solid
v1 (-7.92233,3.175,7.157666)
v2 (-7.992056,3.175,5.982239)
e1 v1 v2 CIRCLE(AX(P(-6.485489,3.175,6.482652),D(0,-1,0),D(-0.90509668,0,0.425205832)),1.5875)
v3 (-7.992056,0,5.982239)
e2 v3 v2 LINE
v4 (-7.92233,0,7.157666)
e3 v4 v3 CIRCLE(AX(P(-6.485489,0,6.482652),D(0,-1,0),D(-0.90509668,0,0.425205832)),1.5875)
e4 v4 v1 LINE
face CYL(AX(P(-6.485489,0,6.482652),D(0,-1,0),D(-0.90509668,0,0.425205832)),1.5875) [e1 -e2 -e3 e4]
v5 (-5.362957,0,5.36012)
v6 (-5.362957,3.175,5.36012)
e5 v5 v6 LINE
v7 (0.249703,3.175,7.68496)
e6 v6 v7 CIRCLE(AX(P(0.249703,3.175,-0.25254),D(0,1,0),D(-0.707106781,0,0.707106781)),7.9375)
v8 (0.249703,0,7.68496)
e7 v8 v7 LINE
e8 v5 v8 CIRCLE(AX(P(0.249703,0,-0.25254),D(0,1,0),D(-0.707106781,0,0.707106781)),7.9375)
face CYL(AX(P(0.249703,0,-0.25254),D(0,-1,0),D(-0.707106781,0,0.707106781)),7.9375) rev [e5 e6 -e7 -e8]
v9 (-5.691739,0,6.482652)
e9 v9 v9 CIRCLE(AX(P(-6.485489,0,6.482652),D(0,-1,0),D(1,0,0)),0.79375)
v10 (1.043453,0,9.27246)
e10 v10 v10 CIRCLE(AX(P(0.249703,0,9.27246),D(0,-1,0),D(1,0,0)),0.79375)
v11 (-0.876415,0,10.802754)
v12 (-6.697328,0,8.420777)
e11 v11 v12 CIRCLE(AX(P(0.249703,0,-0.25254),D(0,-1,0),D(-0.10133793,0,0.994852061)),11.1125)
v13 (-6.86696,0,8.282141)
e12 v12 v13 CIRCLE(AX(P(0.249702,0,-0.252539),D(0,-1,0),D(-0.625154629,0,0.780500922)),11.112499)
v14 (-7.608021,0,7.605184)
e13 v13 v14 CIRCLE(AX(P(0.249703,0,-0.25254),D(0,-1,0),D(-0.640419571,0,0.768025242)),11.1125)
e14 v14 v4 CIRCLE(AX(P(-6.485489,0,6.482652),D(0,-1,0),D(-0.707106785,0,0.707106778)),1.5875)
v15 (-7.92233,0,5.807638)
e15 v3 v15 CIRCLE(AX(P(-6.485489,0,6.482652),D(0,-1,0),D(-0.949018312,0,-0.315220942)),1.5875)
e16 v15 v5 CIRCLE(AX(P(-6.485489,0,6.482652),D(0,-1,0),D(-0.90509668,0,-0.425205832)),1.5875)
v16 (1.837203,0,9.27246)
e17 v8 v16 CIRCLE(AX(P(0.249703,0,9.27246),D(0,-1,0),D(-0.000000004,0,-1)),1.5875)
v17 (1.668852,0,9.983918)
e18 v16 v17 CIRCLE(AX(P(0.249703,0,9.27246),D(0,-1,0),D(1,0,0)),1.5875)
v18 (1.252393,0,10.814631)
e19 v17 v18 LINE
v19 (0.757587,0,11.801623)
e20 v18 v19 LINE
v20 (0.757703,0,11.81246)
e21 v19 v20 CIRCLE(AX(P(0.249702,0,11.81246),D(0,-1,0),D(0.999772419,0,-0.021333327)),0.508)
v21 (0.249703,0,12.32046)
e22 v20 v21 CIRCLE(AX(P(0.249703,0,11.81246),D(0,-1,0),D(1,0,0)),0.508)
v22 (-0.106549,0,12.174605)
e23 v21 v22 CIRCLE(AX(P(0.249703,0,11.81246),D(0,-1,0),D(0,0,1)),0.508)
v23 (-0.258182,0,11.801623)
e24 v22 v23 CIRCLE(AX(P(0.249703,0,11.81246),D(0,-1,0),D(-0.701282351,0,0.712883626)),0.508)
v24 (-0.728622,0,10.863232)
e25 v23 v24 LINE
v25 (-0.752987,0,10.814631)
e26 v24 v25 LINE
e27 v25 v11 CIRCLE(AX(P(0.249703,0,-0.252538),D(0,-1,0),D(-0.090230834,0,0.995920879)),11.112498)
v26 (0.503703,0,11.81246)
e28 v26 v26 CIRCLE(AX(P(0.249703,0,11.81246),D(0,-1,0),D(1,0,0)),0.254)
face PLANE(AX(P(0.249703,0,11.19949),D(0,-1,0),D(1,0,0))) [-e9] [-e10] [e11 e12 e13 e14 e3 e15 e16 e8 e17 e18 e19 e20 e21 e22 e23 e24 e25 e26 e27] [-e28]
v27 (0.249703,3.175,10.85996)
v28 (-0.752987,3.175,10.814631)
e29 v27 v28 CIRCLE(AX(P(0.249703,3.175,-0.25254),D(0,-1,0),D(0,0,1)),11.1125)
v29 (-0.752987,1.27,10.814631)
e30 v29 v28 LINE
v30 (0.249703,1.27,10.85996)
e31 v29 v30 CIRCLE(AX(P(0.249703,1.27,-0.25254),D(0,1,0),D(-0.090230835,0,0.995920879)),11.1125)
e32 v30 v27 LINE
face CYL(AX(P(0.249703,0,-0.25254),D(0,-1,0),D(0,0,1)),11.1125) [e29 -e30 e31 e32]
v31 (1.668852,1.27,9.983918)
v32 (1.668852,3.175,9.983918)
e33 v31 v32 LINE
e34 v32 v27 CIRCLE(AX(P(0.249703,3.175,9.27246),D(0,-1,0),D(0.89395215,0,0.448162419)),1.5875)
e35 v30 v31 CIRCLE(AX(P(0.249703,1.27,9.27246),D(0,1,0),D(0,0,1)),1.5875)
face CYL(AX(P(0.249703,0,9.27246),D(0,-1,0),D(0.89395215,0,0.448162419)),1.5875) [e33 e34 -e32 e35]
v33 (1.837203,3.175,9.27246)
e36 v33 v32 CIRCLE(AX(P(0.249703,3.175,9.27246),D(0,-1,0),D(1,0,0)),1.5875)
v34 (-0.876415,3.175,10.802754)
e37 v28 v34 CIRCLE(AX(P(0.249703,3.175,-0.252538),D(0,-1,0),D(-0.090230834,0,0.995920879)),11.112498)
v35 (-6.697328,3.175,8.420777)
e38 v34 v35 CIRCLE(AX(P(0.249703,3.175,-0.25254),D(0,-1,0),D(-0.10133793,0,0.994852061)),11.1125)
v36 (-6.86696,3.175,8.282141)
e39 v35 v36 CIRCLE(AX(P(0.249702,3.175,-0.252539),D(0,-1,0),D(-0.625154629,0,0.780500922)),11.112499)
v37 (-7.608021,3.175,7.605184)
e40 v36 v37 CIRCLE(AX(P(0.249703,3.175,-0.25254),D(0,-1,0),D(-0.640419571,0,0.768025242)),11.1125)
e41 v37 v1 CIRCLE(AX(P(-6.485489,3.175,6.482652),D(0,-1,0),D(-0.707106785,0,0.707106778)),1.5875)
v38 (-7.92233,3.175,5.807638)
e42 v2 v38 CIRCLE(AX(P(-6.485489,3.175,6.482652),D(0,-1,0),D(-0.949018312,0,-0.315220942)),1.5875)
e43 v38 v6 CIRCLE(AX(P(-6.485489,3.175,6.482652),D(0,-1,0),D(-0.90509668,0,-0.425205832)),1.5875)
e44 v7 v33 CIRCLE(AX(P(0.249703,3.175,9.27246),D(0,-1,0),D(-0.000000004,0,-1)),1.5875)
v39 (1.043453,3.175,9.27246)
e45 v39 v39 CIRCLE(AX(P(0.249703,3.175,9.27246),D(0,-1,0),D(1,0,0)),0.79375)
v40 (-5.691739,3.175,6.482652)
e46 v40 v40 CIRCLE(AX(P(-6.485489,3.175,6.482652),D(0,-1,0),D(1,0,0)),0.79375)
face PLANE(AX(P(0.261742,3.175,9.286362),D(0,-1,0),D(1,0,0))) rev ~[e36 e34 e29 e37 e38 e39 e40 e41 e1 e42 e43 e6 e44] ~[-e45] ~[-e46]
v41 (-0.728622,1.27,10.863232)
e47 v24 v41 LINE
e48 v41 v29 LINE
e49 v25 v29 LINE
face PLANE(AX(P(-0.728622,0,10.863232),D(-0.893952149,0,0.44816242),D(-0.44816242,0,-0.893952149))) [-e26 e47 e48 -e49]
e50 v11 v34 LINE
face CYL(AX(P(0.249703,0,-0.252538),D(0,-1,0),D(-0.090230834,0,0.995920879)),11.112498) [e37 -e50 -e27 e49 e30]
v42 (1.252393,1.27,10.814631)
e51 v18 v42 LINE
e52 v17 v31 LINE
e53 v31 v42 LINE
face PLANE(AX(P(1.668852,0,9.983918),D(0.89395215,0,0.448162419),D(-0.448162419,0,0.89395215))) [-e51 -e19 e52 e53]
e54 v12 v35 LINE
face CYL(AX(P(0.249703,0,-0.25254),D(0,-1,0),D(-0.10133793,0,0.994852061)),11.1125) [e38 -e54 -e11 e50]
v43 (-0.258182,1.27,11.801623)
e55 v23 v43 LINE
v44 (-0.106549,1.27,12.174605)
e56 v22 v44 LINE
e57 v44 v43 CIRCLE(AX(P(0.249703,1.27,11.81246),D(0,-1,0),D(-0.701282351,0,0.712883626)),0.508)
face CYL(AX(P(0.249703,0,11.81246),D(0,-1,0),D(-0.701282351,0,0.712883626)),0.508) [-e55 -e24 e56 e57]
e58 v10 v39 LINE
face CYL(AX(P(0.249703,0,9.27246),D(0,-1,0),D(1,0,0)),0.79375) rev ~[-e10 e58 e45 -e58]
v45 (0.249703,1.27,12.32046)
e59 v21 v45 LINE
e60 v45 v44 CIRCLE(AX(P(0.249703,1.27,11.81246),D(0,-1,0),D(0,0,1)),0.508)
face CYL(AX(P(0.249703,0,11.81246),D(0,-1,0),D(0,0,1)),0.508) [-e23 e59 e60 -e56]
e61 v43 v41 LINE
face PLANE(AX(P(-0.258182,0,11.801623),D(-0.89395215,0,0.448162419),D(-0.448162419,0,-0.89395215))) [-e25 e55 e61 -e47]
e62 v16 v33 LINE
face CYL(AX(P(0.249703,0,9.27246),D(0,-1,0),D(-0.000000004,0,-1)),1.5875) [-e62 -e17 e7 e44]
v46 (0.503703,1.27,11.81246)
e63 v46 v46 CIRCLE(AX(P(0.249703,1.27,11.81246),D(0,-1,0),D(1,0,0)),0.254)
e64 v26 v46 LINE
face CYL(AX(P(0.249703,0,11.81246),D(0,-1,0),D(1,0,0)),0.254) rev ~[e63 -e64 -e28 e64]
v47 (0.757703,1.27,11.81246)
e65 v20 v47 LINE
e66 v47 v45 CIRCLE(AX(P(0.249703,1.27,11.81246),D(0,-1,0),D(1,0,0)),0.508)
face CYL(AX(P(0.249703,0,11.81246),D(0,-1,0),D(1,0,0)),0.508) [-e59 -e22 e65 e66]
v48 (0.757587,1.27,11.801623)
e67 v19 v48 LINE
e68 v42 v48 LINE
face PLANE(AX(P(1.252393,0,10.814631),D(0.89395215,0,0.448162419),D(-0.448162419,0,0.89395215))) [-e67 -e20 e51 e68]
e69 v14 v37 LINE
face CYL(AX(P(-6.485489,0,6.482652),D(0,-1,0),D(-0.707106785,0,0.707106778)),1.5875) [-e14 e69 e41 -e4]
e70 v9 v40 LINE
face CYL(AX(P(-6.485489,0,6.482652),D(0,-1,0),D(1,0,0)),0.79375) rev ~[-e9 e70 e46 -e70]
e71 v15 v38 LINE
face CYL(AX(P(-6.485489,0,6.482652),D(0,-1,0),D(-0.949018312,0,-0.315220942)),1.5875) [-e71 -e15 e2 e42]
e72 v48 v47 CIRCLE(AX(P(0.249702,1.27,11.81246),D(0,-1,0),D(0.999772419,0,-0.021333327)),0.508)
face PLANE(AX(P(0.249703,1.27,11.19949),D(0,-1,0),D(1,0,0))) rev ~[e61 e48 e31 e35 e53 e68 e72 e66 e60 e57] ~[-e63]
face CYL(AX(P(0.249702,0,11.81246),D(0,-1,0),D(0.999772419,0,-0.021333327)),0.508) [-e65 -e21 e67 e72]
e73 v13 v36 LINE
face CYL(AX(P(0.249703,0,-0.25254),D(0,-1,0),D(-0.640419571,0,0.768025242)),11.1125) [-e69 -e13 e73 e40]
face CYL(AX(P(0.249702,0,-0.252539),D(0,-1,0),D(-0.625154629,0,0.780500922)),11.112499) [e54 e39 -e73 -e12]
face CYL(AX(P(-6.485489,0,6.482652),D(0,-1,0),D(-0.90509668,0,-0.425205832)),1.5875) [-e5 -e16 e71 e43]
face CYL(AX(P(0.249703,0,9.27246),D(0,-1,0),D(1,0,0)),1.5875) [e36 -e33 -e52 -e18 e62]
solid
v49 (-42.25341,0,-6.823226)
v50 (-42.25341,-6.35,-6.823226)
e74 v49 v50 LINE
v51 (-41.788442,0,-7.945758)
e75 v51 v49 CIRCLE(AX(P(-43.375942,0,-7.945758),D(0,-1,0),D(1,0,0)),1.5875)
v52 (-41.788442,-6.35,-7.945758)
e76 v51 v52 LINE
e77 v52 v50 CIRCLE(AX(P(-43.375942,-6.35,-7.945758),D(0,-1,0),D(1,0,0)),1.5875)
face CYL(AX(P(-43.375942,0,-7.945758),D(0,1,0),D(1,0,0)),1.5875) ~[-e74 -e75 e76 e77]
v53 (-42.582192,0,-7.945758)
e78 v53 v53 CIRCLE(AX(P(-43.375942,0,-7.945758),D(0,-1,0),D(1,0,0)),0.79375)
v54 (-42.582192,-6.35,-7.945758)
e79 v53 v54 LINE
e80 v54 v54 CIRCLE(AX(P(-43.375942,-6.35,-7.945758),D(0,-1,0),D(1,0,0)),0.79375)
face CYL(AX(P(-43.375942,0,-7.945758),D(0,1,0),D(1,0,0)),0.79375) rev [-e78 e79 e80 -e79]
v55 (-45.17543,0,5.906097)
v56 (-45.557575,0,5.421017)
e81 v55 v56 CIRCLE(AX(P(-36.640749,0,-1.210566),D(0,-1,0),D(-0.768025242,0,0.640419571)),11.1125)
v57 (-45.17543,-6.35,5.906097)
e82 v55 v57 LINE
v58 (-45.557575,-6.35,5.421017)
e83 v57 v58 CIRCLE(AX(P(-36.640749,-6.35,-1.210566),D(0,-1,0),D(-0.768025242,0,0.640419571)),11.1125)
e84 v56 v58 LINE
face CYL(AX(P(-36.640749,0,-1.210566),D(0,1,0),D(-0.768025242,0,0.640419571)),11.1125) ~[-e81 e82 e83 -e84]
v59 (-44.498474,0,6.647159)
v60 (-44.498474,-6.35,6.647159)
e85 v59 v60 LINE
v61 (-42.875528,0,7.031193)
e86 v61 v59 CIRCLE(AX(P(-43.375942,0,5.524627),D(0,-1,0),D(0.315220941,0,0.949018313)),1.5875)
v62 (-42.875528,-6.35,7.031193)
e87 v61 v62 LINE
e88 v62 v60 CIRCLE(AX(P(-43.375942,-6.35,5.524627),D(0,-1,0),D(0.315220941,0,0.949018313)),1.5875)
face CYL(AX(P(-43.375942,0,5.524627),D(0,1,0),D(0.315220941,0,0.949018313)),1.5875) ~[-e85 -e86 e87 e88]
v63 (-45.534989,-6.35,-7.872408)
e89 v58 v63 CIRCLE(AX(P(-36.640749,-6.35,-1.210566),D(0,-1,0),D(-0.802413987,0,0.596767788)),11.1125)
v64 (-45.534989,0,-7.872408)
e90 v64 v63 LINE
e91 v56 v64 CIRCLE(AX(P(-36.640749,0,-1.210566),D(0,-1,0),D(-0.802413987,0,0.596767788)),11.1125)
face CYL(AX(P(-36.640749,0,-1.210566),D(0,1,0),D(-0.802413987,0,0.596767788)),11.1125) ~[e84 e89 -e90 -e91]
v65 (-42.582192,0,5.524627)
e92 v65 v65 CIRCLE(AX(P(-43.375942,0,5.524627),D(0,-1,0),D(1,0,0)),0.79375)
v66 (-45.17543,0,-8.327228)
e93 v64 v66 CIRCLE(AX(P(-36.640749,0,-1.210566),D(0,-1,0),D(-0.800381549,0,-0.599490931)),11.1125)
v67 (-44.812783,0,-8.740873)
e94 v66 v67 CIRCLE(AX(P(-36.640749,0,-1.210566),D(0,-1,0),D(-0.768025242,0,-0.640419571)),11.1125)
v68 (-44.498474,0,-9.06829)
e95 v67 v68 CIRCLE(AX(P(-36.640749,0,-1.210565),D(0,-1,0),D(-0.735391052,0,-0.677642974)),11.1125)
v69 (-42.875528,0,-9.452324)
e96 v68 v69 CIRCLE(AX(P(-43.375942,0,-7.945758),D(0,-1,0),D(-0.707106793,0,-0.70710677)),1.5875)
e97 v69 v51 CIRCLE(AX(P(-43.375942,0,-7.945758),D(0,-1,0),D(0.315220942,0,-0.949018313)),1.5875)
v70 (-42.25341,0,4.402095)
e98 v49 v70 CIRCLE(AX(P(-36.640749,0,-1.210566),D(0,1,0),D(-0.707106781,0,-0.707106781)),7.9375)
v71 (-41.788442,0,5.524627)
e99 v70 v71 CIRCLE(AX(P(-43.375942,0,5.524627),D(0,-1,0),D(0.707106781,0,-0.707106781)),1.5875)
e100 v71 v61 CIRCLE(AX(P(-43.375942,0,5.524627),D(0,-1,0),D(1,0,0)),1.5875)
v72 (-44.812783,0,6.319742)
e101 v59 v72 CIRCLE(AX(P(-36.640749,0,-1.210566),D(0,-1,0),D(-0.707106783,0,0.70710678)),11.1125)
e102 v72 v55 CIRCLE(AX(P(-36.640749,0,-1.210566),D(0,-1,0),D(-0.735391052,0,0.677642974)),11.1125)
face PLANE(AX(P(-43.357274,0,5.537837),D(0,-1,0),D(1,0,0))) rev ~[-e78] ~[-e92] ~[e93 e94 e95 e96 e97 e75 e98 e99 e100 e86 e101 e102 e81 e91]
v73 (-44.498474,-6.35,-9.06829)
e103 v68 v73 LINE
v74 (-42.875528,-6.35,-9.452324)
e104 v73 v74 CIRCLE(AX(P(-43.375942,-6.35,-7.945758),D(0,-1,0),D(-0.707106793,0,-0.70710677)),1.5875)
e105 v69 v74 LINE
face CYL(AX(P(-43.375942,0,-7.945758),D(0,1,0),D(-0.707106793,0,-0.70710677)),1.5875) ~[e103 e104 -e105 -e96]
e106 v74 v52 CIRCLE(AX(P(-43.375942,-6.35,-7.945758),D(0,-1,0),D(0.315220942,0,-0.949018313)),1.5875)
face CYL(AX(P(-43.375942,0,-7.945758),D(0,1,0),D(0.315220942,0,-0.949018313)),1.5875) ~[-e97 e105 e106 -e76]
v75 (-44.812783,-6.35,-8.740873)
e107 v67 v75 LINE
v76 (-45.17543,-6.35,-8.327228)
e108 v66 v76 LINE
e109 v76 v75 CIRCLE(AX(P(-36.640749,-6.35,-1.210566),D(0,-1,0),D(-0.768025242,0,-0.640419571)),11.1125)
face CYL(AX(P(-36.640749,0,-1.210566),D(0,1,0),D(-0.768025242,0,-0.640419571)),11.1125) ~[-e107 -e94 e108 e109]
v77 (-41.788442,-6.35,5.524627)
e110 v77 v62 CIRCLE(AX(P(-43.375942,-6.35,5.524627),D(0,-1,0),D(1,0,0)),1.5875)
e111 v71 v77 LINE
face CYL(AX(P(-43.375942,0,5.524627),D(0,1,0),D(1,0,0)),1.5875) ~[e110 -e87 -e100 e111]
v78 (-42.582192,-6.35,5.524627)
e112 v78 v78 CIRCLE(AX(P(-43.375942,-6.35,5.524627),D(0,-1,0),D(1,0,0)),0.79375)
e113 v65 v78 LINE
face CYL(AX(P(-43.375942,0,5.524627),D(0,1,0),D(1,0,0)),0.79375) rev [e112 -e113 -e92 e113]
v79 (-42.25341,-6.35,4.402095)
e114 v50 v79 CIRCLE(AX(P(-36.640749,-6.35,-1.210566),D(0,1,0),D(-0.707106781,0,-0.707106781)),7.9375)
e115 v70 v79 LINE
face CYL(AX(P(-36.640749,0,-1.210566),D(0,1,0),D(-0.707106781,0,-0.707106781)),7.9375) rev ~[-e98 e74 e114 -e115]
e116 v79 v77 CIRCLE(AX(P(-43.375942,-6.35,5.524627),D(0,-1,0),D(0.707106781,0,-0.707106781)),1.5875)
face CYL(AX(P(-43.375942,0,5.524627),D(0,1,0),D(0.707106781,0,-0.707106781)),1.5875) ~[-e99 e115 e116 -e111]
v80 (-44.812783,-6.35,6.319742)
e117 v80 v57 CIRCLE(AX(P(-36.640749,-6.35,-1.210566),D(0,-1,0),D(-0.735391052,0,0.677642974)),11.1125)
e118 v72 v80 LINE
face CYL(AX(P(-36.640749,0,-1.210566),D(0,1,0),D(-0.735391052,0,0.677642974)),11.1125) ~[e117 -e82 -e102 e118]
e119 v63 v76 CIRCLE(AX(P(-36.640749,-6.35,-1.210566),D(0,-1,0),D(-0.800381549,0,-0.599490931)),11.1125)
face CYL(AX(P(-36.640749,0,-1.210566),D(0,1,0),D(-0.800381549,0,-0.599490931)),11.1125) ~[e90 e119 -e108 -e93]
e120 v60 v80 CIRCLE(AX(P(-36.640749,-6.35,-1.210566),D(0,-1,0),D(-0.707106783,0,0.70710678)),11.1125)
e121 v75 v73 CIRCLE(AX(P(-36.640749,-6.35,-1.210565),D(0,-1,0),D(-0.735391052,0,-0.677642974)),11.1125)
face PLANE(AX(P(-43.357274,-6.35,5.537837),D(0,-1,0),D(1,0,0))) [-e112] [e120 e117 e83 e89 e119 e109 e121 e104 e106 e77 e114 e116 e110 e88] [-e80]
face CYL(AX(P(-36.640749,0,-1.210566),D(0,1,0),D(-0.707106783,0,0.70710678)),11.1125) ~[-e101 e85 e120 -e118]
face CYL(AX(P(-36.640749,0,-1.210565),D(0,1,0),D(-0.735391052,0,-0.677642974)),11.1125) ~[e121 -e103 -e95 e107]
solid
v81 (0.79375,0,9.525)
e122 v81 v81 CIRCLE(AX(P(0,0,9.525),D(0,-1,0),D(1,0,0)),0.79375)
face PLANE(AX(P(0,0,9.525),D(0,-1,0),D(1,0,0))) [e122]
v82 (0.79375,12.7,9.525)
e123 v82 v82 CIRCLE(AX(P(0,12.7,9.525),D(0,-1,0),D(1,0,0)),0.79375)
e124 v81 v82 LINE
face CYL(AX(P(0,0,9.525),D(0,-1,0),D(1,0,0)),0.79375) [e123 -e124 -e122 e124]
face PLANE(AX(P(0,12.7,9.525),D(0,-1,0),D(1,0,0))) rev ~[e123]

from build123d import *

# Parameters (mm, degrees)
F0_R     = 0.79375
F2_DEPTH = 12.7
F1_R     = 0.79375
F3_DEPTH = 3.175
F1_R_2   = 0.254
F4_DEPTH = 1.27
F5_R     = 0.79375
F6_DEPTH = 6.35


with BuildPart() as f2:
    # F0 (on Front) → F2 (new body)
    with BuildSketch(Plane.XZ):
        with Locations((0, 9.525)):
            Circle(F0_R)
    extrude(amount=-F2_DEPTH)


with BuildPart() as f3:
    # F1 (on Front) → F3 (new body)
    with BuildSketch(Plane.XZ):
        with BuildLine():
            ThreePointArc((-1.1694463436, 9.9839179202), (-1.1011480712, 8.4385785178), (0.2497026876, 7.6849600799))
            ThreePointArc((0.2497026876, 7.6849600799), (1.372234707, 8.1499280624), (1.8372026942, 9.2724600799))
            ThreePointArc((1.8372026942, 9.2724600799), (1.7945417388, 9.638012506), (1.668851732, 9.9839179202))
            ThreePointArc((1.668851732, 9.9839179202), (1.0835842591, 10.6233108435), (0.2497026942, 10.8599600799))
            ThreePointArc((0.2497026942, 10.8599600799), (-0.5841788707, 10.6233108435), (-1.1694463436, 9.9839179202))
        make_face()
        with Locations((0.2497026942, 9.2724600799)):
            Circle(F1_R, mode=Mode.SUBTRACT)
        with BuildLine():
            ThreePointArc((-5.3629573815, 5.3601201555), (-2.7878470533, 7.0807538679), (0.2497026876, 7.6849600799))
            ThreePointArc((0.2497026876, 7.6849600799), (-1.1011480712, 8.4385785178), (-1.1694463436, 9.9839179202))
            Line((-1.1694463436, 9.9839179202), (-0.7529874614, 10.8146308431))
            ThreePointArc((-0.7529874614, 10.8146308431), (-0.8147178245, 10.8088643854), (-0.8764150546, 10.8027536113))
            Line((-0.8764150546, 10.8027536113), (-6.6973281316, 8.420776571))
            ThreePointArc((-6.6973281316, 8.420776571), (-6.7824856126, 8.3518766126), (-6.8669597926, 8.2821405835))
            Line((-6.8669597926, 8.2821405835), (-5.9850761519, 7.9892187422))
            ThreePointArc((-5.9850761519, 7.9892187422), (-5.1981350794, 7.4115628833), (-4.8979893966, 6.4826521707))
            ThreePointArc((-4.8979893966, 6.4826521707), (-5.0188306388, 5.8751422218), (-5.3629573815, 5.3601201555))
        make_face()
        with BuildLine():
            Line((-0.7529874614, 10.8146308431), (-1.1694463436, 9.9839179202))
            ThreePointArc((-1.1694463436, 9.9839179202), (-0.5841788707, 10.6233108435), (0.2497026942, 10.8599600799))
            ThreePointArc((0.2497026942, 10.8599600799), (-0.2521544289, 10.8486219865), (-0.7529874614, 10.8146308431))
        make_face()
        with BuildLine():
            ThreePointArc((-7.6080214168, 7.6051841808), (-6.8510418262, 8.0274912145), (-5.9850761519, 7.9892187422))
            Line((-5.9850761519, 7.9892187422), (-6.8669597926, 8.2821405835))
            ThreePointArc((-6.8669597926, 8.2821405835), (-7.2451375968, 7.9520335156), (-7.6080214168, 7.6051841808))
        make_face()
        with BuildLine():
            ThreePointArc((-7.922330376, 5.8076379116), (-6.7589223258, 4.9188776718), (-5.3629573815, 5.3601201555))
            ThreePointArc((-5.3629573815, 5.3601201555), (-5.0188306388, 5.8751422218), (-4.8979893966, 6.4826521707))
            ThreePointArc((-4.8979893966, 6.4826521707), (-5.1981350794, 7.4115628833), (-5.9850761519, 7.9892187422))
            ThreePointArc((-5.9850761519, 7.9892187422), (-6.8510418262, 8.0274912145), (-7.6080214168, 7.6051841808))
            ThreePointArc((-7.6080214168, 7.6051841808), (-7.7845912294, 7.3950614418), (-7.922330376, 7.1576664298))
            Line((-7.922330376, 7.1576664298), (-7.922330376, 5.8076379116))
        make_face()
        with Locations((-6.4854893966, 6.4826521707)):
            Circle(F1_R, mode=Mode.SUBTRACT)
        with BuildLine():
            ThreePointArc((-7.9920559682, 5.9822389259), (-7.9597802028, 5.8939053076), (-7.922330376, 5.8076379116))
            Line((-7.922330376, 5.8076379116), (-7.922330376, 7.1576664298))
            ThreePointArc((-7.922330376, 7.1576664298), (-8.0702037106, 6.5766563892), (-7.9920559682, 5.9822389259))
        make_face()
        with BuildLine():
            Line((-6.6973281316, 8.420776571), (-0.8764150546, 10.8027536113))
            ThreePointArc((-0.8764150546, 10.8027536113), (-3.9589058207, 10.0321706066), (-6.6973281316, 8.420776571))
        make_face()
    extrude(amount=-F3_DEPTH)

    # F1 (on Front) → F4 (join)
    with BuildSketch(Plane.XZ):
        with BuildLine():
            ThreePointArc((-0.7529874614, 10.8146308431), (-0.2521544289, 10.8486219865), (0.2497026942, 10.8599600799))
            ThreePointArc((0.2497026942, 10.8599600799), (0.7515598172, 10.8486219865), (1.2523928497, 10.8146308431))
            Line((1.2523928497, 10.8146308431), (0.7575870828, 11.8016227465))
            ThreePointArc((0.7575870828, 11.8016227465), (0.2497026942, 11.3044600799), (-0.2581816944, 11.8016227465))
            Line((-0.2581816944, 11.8016227465), (-0.7286224611, 10.8632318489))
            Line((-0.7286224611, 10.8632318489), (-0.7529874614, 10.8146308431))
        make_face()
        with BuildLine():
            ThreePointArc((-0.2581816944, 11.8016227465), (0.2497026942, 11.3044600799), (0.7575870828, 11.8016227465))
            ThreePointArc((0.7575870828, 11.8016227465), (0.7576737905, 11.8070411049), (0.7577026942, 11.8124600799))
            ThreePointArc((0.7577026942, 11.8124600799), (0.608912939, 12.1716703247), (0.2497026942, 12.3204600799))
            Line((0.2497026942, 12.3204600799), (-0.1065487401, 12.1746049619))
            ThreePointArc((-0.1065487401, 12.1746049619), (-0.2208943876, 12.0037775821), (-0.2581816944, 11.8016227465))
        make_face()
        with Locations((0.2497026942, 11.8124600799)):
            Circle(F1_R_2, mode=Mode.SUBTRACT)
        with BuildLine():
            ThreePointArc((1.2523928497, 10.8146308431), (0.7515598172, 10.8486219865), (0.2497026942, 10.8599600799))
            ThreePointArc((0.2497026942, 10.8599600799), (1.0835842591, 10.6233108435), (1.668851732, 9.9839179202))
            Line((1.668851732, 9.9839179202), (1.2523928497, 10.8146308431))
        make_face()
        with BuildLine():
            ThreePointArc((0.2497026942, 12.3204600799), (0.0572262022, 12.2825843188), (-0.1065487401, 12.1746049619))
            Line((-0.1065487401, 12.1746049619), (0.2497026942, 12.3204600799))
        make_face()
    extrude(amount=-F4_DEPTH)


with BuildPart() as f6:
    # F5 (on Front) → F6 (new body)
    with BuildSketch(Plane.XZ):
        with BuildLine():
            ThreePointArc((-44.8127825507, 4.8496123106), (-43.6493745005, 3.9608520708), (-42.2534095562, 4.4020945545))
            ThreePointArc((-42.2534095562, 4.4020945545), (-41.9092828135, 4.9171166208), (-41.7884415713, 5.5246265697))
            ThreePointArc((-41.7884415713, 5.5246265697), (-42.0885872541, 6.4535372823), (-42.8755283266, 7.0311931412))
            ThreePointArc((-42.8755283266, 7.0311931412), (-43.7414940065, 7.0694656121), (-44.4984735996, 6.6471585717))
            ThreePointArc((-44.4984735996, 6.6471585717), (-44.6750434074, 6.4370358361), (-44.8127825507, 6.1996408288))
            Line((-44.8127825507, 6.1996408288), (-44.8127825507, 4.8496123106))
        make_face()
        with Locations((-43.3759415713, 5.5246265697)):
            Circle(F5_R, mode=Mode.SUBTRACT)
        with BuildLine():
            ThreePointArc((-44.8825081429, 5.0242133249), (-44.8502323775, 4.9358797066), (-44.8127825507, 4.8496123106))
            Line((-44.8127825507, 4.8496123106), (-44.8127825507, 6.1996408288))
            ThreePointArc((-44.8127825507, 6.1996408288), (-44.9606558853, 5.6186307882), (-44.8825081429, 5.0242133249))
        make_face()
        with BuildLine():
            Line((-45.1754299842, 5.9060969657), (-44.8825081429, 5.0242133249))
            ThreePointArc((-44.8825081429, 5.0242133249), (-44.9606558853, 5.6186307882), (-44.8127825507, 6.1996408288))
            Line((-44.8127825507, 6.1996408288), (-44.8127825507, 6.3197420257))
            ThreePointArc((-44.8127825507, 6.3197420257), (-44.9966662566, 6.1151638679), (-45.1754299842, 5.9060969657))
        make_face()
        with BuildLine():
            Line((-44.8127825507, -7.2707433528), (-44.8127825507, 4.8496123106))
            ThreePointArc((-44.8127825507, 4.8496123106), (-44.8502323775, 4.9358797066), (-44.8825081429, 5.0242133249))
            Line((-44.8825081429, 5.0242133249), (-45.1754299842, 5.9060969657))
            ThreePointArc((-45.1754299842, 5.9060969657), (-45.3698726123, 5.6662117473), (-45.5575749166, 5.4210165218))
            Line((-45.5575749166, 5.4210165218), (-45.5349894408, -7.8724084927))
            ThreePointArc((-45.5349894408, -7.8724084927), (-45.3581764135, -8.1021635882), (-45.1754299842, -8.3272280079))
            Line((-45.1754299842, -8.3272280079), (-44.8825081429, -7.4453443672))
            ThreePointArc((-44.8825081429, -7.4453443672), (-44.8502323775, -7.3570107489), (-44.8127825507, -7.2707433528))
        make_face()
        with BuildLine():
            Line((-45.5349894408, -7.8724084927), (-45.5575749166, 5.4210165218))
            ThreePointArc((-45.5575749166, 5.4210165218), (-47.753233442, -1.2294455868), (-45.5349894408, -7.8724084927))
        make_face()
        with BuildLine():
            ThreePointArc((-42.2534095562, -6.8232255968), (-44.5782494805, -1.2105655211), (-42.2534095562, 4.4020945545))
            ThreePointArc((-42.2534095562, 4.4020945545), (-43.6493745005, 3.9608520708), (-44.8127825507, 4.8496123106))
            Line((-44.8127825507, 4.8496123106), (-44.8127825507, -7.2707433528))
            ThreePointArc((-44.8127825507, -7.2707433528), (-43.6493745005, -6.3819831131), (-42.2534095562, -6.8232255968))
        make_face()
        with BuildLine():
            Line((-44.8127825507, 6.3197420257), (-44.8127825507, 6.1996408288))
            ThreePointArc((-44.8127825507, 6.1996408288), (-44.6750434074, 6.4370358361), (-44.4984735996, 6.6471585717))
            ThreePointArc((-44.4984735996, 6.6471585717), (-44.6572998162, 6.4850551143), (-44.8127825507, 6.3197420257))
        make_face()
        with BuildLine():
            ThreePointArc((-41.7884415713, -7.9457576119), (-41.9092828135, -7.3382476631), (-42.2534095562, -6.8232255968))
            ThreePointArc((-42.2534095562, -6.8232255968), (-43.6493745005, -6.3819831131), (-44.8127825507, -7.2707433528))
            Line((-44.8127825507, -7.2707433528), (-44.8127825507, -8.620771871))
            ThreePointArc((-44.8127825507, -8.620771871), (-44.6750434095, -8.8581668754), (-44.4984736046, -9.0682896089))
            ThreePointArc((-44.4984736046, -9.0682896089), (-43.7414940099, -9.4905966536), (-42.8755283266, -9.4523241835))
            ThreePointArc((-42.8755283266, -9.4523241835), (-42.0885872541, -8.8746683245), (-41.7884415713, -7.9457576119))
        make_face()
        with Locations((-43.3759415713, -7.9457576119)):
            Circle(F5_R, mode=Mode.SUBTRACT)
        with BuildLine():
            Line((-44.8127825507, -8.620771871), (-44.8127825507, -7.2707433528))
            ThreePointArc((-44.8127825507, -7.2707433528), (-44.8502323775, -7.3570107489), (-44.8825081429, -7.4453443672))
            ThreePointArc((-44.8825081429, -7.4453443672), (-44.9606558853, -8.0397618305), (-44.8127825507, -8.620771871))
        make_face()
        with BuildLine():
            ThreePointArc((-44.8127825507, -8.620771871), (-44.9606558853, -8.0397618305), (-44.8825081429, -7.4453443672))
            Line((-44.8825081429, -7.4453443672), (-45.1754299842, -8.3272280079))
            ThreePointArc((-45.1754299842, -8.3272280079), (-44.9966662566, -8.5362949102), (-44.8127825507, -8.740873068))
            Line((-44.8127825507, -8.740873068), (-44.8127825507, -8.620771871))
        make_face()
        with BuildLine():
            ThreePointArc((-44.4984736046, -9.0682896089), (-44.6750434095, -8.8581668754), (-44.8127825507, -8.620771871))
            Line((-44.8127825507, -8.620771871), (-44.8127825507, -8.740873068))
            ThreePointArc((-44.8127825507, -8.740873068), (-44.6572998187, -8.906186154), (-44.4984736046, -9.0682896089))
        make_face()
    extrude(amount=F6_DEPTH)


solid = Compound([f2.part, f3.part, f6.part])
